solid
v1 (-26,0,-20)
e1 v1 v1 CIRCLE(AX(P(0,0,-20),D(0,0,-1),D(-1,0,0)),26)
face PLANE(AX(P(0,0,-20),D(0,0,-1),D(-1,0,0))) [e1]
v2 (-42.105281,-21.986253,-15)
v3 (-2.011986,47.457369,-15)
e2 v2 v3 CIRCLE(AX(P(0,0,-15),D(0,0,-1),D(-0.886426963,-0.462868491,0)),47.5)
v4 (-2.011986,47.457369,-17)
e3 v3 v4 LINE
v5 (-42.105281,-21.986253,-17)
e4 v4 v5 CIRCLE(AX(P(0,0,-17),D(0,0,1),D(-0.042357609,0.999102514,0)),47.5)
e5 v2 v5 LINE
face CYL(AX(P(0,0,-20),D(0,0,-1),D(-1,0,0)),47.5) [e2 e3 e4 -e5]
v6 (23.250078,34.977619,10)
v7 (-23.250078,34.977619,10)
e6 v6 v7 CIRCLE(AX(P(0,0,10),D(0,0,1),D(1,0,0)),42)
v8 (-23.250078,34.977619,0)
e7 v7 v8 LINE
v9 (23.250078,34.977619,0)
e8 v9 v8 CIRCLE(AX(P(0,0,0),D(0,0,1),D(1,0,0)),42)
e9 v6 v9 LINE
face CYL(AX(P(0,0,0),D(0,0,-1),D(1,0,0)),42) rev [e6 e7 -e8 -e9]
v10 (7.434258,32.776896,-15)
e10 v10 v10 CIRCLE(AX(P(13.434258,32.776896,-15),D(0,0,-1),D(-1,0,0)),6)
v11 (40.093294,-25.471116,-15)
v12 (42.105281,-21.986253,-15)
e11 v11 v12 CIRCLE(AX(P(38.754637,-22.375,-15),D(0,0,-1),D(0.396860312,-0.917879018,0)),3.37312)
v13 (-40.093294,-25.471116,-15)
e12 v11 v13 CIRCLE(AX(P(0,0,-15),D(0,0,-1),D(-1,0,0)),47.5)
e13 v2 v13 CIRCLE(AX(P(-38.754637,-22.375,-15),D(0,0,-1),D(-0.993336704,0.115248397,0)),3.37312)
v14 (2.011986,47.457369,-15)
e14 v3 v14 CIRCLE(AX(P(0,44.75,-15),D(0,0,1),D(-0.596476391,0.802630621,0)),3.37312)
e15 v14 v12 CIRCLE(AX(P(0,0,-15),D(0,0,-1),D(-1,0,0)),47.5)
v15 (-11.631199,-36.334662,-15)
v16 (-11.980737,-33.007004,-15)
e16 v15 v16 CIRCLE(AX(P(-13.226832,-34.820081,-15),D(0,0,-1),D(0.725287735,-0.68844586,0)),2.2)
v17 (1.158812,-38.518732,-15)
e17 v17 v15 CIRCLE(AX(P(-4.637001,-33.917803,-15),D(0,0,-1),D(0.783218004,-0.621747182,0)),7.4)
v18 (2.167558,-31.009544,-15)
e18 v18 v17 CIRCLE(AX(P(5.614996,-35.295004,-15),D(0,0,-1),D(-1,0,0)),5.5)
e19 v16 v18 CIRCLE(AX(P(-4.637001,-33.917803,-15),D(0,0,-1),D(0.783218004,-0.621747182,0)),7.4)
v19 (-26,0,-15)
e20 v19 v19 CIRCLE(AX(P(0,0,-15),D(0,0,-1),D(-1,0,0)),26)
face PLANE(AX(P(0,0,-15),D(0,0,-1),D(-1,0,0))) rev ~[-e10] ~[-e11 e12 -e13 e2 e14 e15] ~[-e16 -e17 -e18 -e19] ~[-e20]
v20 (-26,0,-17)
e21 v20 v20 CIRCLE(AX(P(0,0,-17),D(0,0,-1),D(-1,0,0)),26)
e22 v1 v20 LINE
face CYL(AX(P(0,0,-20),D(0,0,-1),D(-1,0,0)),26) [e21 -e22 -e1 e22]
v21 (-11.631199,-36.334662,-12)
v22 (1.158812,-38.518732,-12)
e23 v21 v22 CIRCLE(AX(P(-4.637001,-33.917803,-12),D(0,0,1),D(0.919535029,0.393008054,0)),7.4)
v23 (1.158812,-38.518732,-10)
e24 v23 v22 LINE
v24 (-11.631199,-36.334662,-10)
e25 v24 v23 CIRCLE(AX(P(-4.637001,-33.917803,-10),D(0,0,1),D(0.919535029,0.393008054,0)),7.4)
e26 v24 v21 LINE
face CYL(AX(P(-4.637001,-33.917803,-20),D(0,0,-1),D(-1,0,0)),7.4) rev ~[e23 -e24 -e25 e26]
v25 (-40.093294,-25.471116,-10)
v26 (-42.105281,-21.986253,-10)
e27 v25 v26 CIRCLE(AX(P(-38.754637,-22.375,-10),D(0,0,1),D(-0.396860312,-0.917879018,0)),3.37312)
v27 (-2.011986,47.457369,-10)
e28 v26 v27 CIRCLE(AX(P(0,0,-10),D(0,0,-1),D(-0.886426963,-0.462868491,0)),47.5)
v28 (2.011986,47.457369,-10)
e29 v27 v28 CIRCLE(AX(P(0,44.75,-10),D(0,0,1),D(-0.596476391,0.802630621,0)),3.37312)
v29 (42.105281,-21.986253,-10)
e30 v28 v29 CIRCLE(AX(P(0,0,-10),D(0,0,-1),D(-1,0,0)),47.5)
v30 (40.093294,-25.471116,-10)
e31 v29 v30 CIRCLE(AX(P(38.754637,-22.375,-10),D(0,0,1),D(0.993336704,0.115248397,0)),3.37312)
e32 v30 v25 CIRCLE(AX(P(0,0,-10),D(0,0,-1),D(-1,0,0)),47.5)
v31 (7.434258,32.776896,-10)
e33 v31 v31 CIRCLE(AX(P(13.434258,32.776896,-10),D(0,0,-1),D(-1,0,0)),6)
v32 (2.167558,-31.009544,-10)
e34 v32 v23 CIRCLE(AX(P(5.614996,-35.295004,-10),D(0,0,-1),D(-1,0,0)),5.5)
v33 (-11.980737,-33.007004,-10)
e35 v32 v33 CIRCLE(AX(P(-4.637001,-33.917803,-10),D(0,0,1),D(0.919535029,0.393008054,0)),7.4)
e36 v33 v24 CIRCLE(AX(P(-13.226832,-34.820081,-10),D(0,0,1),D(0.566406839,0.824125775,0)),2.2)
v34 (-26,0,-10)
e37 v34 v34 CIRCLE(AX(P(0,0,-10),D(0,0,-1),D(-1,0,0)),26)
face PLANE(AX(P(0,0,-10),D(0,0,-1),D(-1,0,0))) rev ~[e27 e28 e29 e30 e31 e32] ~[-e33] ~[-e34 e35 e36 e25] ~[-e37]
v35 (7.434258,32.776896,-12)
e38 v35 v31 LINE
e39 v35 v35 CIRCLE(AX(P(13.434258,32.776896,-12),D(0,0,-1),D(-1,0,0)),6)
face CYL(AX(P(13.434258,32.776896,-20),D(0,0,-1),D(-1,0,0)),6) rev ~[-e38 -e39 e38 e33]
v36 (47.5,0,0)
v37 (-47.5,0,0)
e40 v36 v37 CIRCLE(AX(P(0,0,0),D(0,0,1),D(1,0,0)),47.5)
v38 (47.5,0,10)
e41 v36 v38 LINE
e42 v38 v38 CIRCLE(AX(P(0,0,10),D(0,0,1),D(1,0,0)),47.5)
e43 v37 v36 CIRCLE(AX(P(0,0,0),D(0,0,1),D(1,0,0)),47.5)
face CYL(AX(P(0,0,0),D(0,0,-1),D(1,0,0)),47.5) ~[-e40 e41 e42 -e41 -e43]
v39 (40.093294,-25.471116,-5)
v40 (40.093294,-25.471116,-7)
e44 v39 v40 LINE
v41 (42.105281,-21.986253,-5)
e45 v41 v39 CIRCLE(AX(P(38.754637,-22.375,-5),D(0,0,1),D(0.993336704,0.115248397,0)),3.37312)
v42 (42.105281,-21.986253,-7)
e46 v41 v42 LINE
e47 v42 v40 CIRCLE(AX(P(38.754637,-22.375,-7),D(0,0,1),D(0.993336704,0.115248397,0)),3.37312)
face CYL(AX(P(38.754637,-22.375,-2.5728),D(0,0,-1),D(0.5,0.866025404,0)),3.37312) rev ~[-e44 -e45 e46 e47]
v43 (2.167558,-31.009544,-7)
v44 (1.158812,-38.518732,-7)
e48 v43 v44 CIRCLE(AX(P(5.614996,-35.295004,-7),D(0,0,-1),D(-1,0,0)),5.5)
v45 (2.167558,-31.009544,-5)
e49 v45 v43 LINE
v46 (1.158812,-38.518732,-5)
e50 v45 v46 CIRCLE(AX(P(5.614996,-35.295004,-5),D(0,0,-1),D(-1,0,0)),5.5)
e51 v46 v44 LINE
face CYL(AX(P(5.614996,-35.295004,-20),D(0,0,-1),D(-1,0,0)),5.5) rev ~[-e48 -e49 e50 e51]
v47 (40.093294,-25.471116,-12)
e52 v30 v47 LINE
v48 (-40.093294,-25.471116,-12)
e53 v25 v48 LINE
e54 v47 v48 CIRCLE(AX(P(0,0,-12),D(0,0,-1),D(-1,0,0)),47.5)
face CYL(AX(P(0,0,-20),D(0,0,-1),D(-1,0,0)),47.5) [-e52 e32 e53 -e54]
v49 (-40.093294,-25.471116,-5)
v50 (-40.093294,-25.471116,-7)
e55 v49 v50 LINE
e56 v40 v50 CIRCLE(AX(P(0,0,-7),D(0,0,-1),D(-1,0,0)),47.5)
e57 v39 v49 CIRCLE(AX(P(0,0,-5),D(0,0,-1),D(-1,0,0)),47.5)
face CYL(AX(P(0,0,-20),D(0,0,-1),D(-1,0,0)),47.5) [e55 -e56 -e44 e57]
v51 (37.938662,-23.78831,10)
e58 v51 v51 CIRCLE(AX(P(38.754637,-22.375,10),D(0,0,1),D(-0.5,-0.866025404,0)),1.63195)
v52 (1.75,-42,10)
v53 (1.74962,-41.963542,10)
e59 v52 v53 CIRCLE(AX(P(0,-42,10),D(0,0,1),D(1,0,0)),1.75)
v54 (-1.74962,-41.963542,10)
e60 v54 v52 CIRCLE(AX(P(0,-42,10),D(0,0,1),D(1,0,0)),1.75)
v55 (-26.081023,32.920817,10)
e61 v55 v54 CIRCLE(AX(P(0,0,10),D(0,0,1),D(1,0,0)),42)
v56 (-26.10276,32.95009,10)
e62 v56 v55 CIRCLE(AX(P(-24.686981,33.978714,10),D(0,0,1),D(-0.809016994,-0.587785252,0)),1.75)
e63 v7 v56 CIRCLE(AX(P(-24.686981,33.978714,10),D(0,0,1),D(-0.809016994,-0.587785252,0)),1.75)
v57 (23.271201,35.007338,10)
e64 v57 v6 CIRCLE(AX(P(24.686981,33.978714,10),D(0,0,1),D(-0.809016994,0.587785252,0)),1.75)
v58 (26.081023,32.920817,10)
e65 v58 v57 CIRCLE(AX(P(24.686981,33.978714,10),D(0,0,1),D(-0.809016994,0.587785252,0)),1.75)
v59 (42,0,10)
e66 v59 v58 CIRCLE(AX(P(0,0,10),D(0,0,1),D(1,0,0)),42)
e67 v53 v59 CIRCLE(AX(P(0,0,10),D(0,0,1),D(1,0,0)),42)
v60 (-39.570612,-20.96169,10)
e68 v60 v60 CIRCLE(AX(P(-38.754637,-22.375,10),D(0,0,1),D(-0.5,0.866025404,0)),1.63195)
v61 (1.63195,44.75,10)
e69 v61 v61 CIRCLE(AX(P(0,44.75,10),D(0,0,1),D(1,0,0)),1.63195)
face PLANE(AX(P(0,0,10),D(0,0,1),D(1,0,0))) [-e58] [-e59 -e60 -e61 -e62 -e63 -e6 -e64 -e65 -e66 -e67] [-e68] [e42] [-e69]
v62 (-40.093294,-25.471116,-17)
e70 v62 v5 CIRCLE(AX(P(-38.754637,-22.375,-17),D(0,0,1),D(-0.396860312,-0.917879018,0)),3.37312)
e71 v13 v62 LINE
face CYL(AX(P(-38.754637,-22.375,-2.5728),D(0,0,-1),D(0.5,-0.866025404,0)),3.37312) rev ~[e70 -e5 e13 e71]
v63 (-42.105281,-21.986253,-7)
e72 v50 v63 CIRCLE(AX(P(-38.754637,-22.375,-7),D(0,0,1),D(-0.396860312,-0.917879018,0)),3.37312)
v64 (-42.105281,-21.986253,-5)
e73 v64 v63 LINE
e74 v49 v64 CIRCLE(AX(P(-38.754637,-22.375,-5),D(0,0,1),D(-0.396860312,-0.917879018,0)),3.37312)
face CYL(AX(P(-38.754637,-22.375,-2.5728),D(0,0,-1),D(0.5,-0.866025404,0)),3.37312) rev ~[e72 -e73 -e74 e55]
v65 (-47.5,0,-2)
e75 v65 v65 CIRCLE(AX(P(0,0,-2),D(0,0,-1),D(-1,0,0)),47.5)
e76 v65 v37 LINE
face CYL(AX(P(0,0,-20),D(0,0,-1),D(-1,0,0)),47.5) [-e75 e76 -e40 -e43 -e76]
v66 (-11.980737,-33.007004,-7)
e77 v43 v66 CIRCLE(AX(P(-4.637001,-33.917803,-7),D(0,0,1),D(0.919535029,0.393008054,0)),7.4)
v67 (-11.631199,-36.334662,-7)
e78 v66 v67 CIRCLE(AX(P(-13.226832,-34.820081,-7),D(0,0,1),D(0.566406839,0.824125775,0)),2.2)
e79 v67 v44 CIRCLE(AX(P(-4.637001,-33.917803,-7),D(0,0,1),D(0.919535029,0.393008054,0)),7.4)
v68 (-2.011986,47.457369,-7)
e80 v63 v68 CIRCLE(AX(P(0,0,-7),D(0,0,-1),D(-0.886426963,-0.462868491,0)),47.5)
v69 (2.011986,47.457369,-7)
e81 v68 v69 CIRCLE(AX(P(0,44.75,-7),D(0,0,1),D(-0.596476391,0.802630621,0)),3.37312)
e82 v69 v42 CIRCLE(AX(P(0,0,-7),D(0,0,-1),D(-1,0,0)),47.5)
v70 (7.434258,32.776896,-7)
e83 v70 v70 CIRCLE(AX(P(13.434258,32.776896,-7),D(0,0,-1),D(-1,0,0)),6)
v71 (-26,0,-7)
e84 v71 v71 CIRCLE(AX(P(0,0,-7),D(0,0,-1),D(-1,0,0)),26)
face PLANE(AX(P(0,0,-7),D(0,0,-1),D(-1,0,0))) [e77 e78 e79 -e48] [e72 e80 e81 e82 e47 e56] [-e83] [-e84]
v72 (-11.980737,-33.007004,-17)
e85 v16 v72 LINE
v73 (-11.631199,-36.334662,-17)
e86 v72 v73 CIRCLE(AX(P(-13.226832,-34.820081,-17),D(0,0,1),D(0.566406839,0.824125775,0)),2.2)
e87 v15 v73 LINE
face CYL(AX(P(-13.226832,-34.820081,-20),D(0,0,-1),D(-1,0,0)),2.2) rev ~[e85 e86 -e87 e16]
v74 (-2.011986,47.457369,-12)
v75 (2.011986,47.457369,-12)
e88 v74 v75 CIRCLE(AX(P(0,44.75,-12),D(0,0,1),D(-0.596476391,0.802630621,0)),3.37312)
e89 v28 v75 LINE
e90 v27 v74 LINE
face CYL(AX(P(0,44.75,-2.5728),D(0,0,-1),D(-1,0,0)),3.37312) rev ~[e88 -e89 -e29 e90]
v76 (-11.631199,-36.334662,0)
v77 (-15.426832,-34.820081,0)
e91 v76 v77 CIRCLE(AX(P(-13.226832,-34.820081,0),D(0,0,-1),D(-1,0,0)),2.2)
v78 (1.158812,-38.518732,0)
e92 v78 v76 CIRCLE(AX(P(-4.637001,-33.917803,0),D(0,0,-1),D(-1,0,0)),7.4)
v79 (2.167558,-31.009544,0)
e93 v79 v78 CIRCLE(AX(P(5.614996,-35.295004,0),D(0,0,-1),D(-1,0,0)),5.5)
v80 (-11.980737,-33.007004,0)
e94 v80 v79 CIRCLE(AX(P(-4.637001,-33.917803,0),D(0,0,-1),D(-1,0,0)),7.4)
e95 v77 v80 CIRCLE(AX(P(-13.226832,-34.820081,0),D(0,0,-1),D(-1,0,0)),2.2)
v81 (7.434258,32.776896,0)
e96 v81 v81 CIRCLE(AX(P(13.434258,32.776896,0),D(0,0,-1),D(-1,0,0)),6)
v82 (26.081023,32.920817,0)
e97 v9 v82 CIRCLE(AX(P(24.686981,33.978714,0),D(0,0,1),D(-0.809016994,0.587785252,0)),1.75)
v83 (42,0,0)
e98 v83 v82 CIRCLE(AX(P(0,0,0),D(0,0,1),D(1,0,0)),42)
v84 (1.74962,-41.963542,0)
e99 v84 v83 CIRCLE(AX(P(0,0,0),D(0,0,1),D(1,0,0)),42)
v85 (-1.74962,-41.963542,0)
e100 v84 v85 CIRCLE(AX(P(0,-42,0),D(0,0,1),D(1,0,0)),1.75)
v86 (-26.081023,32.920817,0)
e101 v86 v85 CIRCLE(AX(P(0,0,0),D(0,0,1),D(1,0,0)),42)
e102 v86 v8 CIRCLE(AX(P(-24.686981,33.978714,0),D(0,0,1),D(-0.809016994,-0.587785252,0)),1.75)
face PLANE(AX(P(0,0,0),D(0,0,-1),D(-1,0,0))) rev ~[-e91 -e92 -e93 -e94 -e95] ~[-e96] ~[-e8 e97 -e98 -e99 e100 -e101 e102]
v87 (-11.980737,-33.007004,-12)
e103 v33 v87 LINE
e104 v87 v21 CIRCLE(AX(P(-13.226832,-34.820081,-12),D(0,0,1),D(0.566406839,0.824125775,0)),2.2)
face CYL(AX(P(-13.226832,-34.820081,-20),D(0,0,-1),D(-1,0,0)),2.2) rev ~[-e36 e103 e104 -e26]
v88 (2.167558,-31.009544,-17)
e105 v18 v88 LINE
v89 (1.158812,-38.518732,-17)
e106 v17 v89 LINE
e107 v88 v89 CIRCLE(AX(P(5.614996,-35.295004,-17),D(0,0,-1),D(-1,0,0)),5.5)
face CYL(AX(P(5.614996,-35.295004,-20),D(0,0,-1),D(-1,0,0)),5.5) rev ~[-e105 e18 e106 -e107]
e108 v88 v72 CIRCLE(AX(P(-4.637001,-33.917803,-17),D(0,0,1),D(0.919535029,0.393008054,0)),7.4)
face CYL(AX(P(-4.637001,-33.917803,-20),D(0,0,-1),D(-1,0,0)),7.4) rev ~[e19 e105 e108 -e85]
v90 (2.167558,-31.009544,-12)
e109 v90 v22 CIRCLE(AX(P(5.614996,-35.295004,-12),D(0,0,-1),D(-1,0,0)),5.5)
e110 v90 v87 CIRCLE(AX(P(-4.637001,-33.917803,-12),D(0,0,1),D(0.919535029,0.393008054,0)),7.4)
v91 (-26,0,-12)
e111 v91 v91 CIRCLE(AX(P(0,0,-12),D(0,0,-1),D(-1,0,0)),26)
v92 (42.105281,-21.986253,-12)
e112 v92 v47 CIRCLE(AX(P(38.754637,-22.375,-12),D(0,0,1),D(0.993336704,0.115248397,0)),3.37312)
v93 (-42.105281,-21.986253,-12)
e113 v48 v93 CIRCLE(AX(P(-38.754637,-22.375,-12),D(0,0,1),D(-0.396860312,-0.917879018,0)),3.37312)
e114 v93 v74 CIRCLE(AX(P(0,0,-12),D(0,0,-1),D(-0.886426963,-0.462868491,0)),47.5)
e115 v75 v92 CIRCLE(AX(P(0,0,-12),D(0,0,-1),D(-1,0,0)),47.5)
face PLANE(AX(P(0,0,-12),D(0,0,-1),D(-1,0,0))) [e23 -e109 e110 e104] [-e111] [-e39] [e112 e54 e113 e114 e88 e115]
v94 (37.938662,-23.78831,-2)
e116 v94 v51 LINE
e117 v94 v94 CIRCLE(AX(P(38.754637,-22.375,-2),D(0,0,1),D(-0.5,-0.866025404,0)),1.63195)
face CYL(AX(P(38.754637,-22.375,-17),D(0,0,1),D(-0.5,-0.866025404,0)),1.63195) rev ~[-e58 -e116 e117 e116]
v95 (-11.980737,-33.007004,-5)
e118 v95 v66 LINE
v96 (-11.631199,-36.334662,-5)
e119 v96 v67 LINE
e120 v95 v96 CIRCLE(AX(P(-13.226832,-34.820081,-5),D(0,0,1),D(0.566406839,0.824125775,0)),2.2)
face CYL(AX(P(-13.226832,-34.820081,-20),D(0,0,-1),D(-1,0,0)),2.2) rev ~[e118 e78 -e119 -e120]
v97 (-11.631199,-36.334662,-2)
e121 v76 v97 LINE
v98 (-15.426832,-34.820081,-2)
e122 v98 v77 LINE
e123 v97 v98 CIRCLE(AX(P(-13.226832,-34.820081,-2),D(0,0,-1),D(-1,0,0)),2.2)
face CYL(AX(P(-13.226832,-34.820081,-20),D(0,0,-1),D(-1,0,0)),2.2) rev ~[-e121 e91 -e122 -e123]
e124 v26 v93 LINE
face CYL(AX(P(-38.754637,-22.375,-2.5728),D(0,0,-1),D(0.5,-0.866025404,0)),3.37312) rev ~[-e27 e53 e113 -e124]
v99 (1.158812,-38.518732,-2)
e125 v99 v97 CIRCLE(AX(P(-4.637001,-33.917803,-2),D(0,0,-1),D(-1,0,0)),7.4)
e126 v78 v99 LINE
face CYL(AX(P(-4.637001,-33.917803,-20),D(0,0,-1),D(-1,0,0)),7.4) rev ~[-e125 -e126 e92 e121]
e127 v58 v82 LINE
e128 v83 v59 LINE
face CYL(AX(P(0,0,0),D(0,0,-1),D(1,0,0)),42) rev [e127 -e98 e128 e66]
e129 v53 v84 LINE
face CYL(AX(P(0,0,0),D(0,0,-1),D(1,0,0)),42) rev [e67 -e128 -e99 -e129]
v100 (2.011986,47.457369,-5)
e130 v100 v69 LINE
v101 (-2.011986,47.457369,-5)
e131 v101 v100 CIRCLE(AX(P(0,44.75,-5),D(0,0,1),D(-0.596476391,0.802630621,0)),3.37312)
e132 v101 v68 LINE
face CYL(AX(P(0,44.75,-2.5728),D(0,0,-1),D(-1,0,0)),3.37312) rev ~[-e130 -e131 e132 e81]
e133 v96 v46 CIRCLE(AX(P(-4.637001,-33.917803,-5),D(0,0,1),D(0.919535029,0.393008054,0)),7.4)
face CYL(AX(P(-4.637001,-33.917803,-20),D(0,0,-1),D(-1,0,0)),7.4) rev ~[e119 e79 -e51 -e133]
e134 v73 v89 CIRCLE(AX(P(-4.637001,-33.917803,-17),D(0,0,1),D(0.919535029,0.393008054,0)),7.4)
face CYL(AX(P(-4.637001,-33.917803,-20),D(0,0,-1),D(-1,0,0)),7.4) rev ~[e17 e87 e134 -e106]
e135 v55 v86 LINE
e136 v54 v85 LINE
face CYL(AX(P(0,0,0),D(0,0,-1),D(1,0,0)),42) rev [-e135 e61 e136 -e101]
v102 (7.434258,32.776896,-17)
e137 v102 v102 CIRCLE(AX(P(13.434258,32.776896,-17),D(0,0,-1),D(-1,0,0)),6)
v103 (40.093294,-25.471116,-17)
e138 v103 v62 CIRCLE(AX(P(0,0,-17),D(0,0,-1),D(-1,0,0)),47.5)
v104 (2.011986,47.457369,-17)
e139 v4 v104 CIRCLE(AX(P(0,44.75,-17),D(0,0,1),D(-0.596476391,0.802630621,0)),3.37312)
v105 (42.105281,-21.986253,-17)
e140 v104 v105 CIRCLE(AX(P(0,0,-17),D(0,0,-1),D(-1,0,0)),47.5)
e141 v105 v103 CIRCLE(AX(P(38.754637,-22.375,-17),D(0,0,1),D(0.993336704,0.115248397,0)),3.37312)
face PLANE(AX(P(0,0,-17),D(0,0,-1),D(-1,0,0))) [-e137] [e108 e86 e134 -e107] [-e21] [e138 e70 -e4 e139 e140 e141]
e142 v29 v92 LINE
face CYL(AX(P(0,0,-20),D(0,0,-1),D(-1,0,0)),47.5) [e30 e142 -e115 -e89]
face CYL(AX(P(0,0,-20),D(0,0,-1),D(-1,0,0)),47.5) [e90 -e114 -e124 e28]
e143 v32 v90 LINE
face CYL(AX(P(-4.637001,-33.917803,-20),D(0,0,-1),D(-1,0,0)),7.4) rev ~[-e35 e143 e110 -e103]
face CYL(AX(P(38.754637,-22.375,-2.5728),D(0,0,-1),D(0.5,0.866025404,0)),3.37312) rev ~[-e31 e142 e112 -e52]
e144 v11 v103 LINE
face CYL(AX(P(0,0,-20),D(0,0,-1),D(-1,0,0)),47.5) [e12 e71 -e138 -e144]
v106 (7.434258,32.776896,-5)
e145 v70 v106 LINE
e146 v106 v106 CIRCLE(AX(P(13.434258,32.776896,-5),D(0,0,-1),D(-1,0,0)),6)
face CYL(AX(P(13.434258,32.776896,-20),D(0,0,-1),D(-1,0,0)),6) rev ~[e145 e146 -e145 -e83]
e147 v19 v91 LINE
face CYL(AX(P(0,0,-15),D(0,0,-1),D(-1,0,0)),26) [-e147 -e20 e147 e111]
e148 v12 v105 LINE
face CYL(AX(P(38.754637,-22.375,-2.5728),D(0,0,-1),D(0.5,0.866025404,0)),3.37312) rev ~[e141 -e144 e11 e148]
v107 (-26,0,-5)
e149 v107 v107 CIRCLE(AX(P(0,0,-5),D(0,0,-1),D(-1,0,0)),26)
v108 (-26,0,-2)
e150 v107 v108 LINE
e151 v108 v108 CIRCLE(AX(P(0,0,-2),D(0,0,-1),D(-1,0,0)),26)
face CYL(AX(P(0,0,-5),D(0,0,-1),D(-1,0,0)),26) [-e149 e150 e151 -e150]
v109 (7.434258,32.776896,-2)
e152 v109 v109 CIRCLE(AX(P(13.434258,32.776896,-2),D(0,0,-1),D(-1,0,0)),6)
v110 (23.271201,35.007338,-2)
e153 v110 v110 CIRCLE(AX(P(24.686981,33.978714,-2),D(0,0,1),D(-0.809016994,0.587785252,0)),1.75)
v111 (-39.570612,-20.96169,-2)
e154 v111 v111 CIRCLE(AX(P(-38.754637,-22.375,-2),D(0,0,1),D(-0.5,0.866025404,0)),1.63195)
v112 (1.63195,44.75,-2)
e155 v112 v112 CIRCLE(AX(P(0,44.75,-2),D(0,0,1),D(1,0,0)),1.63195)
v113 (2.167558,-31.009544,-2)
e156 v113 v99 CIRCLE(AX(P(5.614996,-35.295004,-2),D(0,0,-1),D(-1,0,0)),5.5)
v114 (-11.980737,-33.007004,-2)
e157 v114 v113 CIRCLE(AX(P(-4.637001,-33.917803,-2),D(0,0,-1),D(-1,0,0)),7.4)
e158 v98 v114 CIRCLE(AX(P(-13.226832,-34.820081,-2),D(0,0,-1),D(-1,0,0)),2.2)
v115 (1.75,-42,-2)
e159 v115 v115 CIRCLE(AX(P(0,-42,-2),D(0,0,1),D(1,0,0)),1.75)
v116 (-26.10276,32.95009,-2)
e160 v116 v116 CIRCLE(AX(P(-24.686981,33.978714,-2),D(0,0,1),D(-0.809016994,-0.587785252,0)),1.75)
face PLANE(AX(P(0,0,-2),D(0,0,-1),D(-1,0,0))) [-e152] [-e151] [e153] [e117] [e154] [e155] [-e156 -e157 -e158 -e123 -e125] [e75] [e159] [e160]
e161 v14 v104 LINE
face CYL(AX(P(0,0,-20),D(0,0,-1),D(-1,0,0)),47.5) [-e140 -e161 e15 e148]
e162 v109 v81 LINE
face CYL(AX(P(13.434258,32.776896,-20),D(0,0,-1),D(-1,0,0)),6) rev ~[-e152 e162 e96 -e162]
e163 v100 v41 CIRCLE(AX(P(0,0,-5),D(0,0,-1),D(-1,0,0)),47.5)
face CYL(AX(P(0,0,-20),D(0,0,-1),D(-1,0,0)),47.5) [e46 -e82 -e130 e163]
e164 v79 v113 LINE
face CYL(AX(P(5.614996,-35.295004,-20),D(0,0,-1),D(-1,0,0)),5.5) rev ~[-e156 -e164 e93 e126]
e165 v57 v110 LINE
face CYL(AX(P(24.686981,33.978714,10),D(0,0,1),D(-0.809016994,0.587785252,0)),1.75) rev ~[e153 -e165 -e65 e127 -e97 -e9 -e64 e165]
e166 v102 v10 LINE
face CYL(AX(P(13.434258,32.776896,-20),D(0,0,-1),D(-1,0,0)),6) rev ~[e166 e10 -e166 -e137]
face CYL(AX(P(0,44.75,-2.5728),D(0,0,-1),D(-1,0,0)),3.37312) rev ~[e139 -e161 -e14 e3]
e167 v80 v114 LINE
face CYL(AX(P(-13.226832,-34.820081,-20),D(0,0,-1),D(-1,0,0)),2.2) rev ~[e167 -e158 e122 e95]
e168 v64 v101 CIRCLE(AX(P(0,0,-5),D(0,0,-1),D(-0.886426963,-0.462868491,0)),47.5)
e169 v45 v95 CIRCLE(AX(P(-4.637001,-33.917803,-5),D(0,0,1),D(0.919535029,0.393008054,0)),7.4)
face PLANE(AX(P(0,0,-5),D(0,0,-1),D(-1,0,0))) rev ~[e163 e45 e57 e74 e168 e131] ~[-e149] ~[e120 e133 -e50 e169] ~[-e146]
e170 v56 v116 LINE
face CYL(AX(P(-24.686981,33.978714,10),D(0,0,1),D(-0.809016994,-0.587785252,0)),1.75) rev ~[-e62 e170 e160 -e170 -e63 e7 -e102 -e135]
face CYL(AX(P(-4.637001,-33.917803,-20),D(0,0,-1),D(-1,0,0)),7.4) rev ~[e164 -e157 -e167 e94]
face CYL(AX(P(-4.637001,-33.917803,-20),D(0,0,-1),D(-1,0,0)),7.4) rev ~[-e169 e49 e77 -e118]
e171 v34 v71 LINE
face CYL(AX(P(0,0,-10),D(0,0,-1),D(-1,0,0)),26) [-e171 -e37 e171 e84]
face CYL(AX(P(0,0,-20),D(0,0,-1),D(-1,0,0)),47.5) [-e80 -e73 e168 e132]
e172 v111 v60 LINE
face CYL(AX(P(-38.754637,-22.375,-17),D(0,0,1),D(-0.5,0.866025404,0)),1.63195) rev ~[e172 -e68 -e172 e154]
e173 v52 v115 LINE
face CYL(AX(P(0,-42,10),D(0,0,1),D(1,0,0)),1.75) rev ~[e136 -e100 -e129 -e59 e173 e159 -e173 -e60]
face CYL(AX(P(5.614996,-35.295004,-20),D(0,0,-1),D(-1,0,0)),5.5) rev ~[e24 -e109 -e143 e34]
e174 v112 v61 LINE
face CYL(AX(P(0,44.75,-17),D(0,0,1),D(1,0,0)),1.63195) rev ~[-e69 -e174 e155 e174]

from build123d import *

# Parameters (mm, degrees)
SKETCH1_R                                           = 47.5
SKETCH1_R_2                                         = 42
BOSS_EXTRUDE1_DEPTH                                 = 10
BOSS_EXTRUDE2_START                                 = 20
SKETCH4_R                                           = 47.5
BOSS_EXTRUDE2_DEPTH                                 = 20
SKETCH5_R                                           = 47.5
SKETCH5_R_2                                         = 26
CUT_EXTRUDE1_DEPTH                                  = 3
LPATTERN1_COUNT                                     = 4
LPATTERN1_PITCH                                     = 5
CBORE_FOR_4_BINDING_HEAD_MACHINE_SCREW3_D           = 3.2639
CBORE_FOR_4_BINDING_HEAD_MACHINE_SCREW3_CBORE_D     = 6.74624
CBORE_FOR_4_BINDING_HEAD_MACHINE_SCREW3_CBORE_DEPTH = 14.4272
CIRPATTERN2_COUNT                                   = 3
SKETCH16_R                                          = 1.75
CUT_EXTRUDE2_DEPTH                                  = 12
CIRPATTERN3_COUNT                                   = 5
SKETCH21_R                                          = 6
CUT_EXTRUDE5_DEPTH                                  = 20
SKETCH22_R                                          = 7.4
CUT_EXTRUDE6_DEPTH                                  = 22
SKETCH23_R                                          = 5.5
CUT_EXTRUDE7_DEPTH                                  = 22
SKETCH24_R                                          = 2.2
CUT_EXTRUDE8_DEPTH                                  = 22


with BuildPart() as part:
    # Sketch1 → Boss-Extrude1 (new body)
    with BuildSketch(Plane.XY):
        Circle(SKETCH1_R)
        Circle(SKETCH1_R_2, mode=Mode.SUBTRACT)
    extrude(amount=BOSS_EXTRUDE1_DEPTH)

    # Sketch4 → Boss-Extrude2 (add)
    with BuildSketch(Plane(origin=(0, 0, 0), x_dir=(-1, 0, 0), z_dir=(0, 0, -1)).offset(BOSS_EXTRUDE2_START)):
        Circle(SKETCH4_R)
    extrude(amount=-BOSS_EXTRUDE2_DEPTH)

    # Sketch5 → Cut-Extrude1 (cut)
    with BuildSketch(Plane(origin=(0, 0, -20), x_dir=(-1, 0, 0), z_dir=(0, 0, -1))):
        Circle(SKETCH5_R)
        Circle(SKETCH5_R_2, mode=Mode.SUBTRACT)
    cut_extrude1 = extrude(amount=-CUT_EXTRUDE1_DEPTH, mode=Mode.SUBTRACT)

    # LPattern1: Cut-Extrude1 ×4
    with Locations(*[(0, 0, i * LPATTERN1_PITCH) for i in range(1, LPATTERN1_COUNT)]):
        add(cut_extrude1, mode=Mode.SUBTRACT)

    # CBORE for #4 Binding Head Machine Screw3 (through all)
    with Locations(Plane(origin=(0, 0, -17), x_dir=(-1, 0, 0), z_dir=(0, 0, -1))):
        with Locations((0, 44.75)):
            cbore_for_4_binding_head_machine_screw3 = CounterBoreHole(CBORE_FOR_4_BINDING_HEAD_MACHINE_SCREW3_D / 2, CBORE_FOR_4_BINDING_HEAD_MACHINE_SCREW3_CBORE_D / 2, CBORE_FOR_4_BINDING_HEAD_MACHINE_SCREW3_CBORE_DEPTH)

    # CirPattern2: CBORE for #4 Binding Head Machine Screw3 ×3 about axis
    cirpattern2_axis = Axis((0, 0, 0), (0, 0, 1))
    for i in range(1, CIRPATTERN2_COUNT):
        add(cbore_for_4_binding_head_machine_screw3.rotate(cirpattern2_axis, i * 360 / CIRPATTERN2_COUNT), mode=Mode.SUBTRACT)

    # Sketch16 → Cut-Extrude2 (cut)
    with BuildSketch(Plane.XY.offset(10)):
        with Locations((0, -42)):
            Circle(SKETCH16_R)
    cut_extrude2 = extrude(amount=-CUT_EXTRUDE2_DEPTH, mode=Mode.SUBTRACT)

    # CirPattern3: Cut-Extrude2 ×5 about axis, 2 skipped
    cirpattern3_axis = Axis((0, 0, 10), (0, 0, -1))
    add([cut_extrude2.rotate(cirpattern3_axis, i * 360 / CIRPATTERN3_COUNT) for i in range(1, CIRPATTERN3_COUNT) if i not in (1, 4)], mode=Mode.SUBTRACT)

    # Sketch21 → Cut-Extrude5 (cut)
    with BuildSketch(Plane(origin=(0, 0, -20), x_dir=(-1, 0, 0), z_dir=(0, 0, -1))):
        with Locations((-13.43425834, 32.776896042)):
            Circle(SKETCH21_R)
    extrude(amount=-CUT_EXTRUDE5_DEPTH, mode=Mode.SUBTRACT)

    # Sketch22 → Cut-Extrude6 (cut)
    with BuildSketch(Plane(origin=(0, 0, -20), x_dir=(-1, 0, 0), z_dir=(0, 0, -1))):
        with Locations((4.637001489, -33.917803127)):
            Circle(SKETCH22_R)
    extrude(amount=-CUT_EXTRUDE6_DEPTH, mode=Mode.SUBTRACT)

    # Sketch23 → Cut-Extrude7 (cut)
    with BuildSketch(Plane(origin=(0, 0, -20), x_dir=(-1, 0, 0), z_dir=(0, 0, -1))):
        with Locations((-5.614995734, -35.295003963)):
            Circle(SKETCH23_R)
    extrude(amount=-CUT_EXTRUDE7_DEPTH, mode=Mode.SUBTRACT)

    # Sketch24 → Cut-Extrude8 (cut)
    with BuildSketch(Plane(origin=(0, 0, -20), x_dir=(-1, 0, 0), z_dir=(0, 0, -1))):
        with Locations((13.226831653, -34.820080994)):
            Circle(SKETCH24_R)
    extrude(amount=-CUT_EXTRUDE8_DEPTH, mode=Mode.SUBTRACT)


solid = part.part
